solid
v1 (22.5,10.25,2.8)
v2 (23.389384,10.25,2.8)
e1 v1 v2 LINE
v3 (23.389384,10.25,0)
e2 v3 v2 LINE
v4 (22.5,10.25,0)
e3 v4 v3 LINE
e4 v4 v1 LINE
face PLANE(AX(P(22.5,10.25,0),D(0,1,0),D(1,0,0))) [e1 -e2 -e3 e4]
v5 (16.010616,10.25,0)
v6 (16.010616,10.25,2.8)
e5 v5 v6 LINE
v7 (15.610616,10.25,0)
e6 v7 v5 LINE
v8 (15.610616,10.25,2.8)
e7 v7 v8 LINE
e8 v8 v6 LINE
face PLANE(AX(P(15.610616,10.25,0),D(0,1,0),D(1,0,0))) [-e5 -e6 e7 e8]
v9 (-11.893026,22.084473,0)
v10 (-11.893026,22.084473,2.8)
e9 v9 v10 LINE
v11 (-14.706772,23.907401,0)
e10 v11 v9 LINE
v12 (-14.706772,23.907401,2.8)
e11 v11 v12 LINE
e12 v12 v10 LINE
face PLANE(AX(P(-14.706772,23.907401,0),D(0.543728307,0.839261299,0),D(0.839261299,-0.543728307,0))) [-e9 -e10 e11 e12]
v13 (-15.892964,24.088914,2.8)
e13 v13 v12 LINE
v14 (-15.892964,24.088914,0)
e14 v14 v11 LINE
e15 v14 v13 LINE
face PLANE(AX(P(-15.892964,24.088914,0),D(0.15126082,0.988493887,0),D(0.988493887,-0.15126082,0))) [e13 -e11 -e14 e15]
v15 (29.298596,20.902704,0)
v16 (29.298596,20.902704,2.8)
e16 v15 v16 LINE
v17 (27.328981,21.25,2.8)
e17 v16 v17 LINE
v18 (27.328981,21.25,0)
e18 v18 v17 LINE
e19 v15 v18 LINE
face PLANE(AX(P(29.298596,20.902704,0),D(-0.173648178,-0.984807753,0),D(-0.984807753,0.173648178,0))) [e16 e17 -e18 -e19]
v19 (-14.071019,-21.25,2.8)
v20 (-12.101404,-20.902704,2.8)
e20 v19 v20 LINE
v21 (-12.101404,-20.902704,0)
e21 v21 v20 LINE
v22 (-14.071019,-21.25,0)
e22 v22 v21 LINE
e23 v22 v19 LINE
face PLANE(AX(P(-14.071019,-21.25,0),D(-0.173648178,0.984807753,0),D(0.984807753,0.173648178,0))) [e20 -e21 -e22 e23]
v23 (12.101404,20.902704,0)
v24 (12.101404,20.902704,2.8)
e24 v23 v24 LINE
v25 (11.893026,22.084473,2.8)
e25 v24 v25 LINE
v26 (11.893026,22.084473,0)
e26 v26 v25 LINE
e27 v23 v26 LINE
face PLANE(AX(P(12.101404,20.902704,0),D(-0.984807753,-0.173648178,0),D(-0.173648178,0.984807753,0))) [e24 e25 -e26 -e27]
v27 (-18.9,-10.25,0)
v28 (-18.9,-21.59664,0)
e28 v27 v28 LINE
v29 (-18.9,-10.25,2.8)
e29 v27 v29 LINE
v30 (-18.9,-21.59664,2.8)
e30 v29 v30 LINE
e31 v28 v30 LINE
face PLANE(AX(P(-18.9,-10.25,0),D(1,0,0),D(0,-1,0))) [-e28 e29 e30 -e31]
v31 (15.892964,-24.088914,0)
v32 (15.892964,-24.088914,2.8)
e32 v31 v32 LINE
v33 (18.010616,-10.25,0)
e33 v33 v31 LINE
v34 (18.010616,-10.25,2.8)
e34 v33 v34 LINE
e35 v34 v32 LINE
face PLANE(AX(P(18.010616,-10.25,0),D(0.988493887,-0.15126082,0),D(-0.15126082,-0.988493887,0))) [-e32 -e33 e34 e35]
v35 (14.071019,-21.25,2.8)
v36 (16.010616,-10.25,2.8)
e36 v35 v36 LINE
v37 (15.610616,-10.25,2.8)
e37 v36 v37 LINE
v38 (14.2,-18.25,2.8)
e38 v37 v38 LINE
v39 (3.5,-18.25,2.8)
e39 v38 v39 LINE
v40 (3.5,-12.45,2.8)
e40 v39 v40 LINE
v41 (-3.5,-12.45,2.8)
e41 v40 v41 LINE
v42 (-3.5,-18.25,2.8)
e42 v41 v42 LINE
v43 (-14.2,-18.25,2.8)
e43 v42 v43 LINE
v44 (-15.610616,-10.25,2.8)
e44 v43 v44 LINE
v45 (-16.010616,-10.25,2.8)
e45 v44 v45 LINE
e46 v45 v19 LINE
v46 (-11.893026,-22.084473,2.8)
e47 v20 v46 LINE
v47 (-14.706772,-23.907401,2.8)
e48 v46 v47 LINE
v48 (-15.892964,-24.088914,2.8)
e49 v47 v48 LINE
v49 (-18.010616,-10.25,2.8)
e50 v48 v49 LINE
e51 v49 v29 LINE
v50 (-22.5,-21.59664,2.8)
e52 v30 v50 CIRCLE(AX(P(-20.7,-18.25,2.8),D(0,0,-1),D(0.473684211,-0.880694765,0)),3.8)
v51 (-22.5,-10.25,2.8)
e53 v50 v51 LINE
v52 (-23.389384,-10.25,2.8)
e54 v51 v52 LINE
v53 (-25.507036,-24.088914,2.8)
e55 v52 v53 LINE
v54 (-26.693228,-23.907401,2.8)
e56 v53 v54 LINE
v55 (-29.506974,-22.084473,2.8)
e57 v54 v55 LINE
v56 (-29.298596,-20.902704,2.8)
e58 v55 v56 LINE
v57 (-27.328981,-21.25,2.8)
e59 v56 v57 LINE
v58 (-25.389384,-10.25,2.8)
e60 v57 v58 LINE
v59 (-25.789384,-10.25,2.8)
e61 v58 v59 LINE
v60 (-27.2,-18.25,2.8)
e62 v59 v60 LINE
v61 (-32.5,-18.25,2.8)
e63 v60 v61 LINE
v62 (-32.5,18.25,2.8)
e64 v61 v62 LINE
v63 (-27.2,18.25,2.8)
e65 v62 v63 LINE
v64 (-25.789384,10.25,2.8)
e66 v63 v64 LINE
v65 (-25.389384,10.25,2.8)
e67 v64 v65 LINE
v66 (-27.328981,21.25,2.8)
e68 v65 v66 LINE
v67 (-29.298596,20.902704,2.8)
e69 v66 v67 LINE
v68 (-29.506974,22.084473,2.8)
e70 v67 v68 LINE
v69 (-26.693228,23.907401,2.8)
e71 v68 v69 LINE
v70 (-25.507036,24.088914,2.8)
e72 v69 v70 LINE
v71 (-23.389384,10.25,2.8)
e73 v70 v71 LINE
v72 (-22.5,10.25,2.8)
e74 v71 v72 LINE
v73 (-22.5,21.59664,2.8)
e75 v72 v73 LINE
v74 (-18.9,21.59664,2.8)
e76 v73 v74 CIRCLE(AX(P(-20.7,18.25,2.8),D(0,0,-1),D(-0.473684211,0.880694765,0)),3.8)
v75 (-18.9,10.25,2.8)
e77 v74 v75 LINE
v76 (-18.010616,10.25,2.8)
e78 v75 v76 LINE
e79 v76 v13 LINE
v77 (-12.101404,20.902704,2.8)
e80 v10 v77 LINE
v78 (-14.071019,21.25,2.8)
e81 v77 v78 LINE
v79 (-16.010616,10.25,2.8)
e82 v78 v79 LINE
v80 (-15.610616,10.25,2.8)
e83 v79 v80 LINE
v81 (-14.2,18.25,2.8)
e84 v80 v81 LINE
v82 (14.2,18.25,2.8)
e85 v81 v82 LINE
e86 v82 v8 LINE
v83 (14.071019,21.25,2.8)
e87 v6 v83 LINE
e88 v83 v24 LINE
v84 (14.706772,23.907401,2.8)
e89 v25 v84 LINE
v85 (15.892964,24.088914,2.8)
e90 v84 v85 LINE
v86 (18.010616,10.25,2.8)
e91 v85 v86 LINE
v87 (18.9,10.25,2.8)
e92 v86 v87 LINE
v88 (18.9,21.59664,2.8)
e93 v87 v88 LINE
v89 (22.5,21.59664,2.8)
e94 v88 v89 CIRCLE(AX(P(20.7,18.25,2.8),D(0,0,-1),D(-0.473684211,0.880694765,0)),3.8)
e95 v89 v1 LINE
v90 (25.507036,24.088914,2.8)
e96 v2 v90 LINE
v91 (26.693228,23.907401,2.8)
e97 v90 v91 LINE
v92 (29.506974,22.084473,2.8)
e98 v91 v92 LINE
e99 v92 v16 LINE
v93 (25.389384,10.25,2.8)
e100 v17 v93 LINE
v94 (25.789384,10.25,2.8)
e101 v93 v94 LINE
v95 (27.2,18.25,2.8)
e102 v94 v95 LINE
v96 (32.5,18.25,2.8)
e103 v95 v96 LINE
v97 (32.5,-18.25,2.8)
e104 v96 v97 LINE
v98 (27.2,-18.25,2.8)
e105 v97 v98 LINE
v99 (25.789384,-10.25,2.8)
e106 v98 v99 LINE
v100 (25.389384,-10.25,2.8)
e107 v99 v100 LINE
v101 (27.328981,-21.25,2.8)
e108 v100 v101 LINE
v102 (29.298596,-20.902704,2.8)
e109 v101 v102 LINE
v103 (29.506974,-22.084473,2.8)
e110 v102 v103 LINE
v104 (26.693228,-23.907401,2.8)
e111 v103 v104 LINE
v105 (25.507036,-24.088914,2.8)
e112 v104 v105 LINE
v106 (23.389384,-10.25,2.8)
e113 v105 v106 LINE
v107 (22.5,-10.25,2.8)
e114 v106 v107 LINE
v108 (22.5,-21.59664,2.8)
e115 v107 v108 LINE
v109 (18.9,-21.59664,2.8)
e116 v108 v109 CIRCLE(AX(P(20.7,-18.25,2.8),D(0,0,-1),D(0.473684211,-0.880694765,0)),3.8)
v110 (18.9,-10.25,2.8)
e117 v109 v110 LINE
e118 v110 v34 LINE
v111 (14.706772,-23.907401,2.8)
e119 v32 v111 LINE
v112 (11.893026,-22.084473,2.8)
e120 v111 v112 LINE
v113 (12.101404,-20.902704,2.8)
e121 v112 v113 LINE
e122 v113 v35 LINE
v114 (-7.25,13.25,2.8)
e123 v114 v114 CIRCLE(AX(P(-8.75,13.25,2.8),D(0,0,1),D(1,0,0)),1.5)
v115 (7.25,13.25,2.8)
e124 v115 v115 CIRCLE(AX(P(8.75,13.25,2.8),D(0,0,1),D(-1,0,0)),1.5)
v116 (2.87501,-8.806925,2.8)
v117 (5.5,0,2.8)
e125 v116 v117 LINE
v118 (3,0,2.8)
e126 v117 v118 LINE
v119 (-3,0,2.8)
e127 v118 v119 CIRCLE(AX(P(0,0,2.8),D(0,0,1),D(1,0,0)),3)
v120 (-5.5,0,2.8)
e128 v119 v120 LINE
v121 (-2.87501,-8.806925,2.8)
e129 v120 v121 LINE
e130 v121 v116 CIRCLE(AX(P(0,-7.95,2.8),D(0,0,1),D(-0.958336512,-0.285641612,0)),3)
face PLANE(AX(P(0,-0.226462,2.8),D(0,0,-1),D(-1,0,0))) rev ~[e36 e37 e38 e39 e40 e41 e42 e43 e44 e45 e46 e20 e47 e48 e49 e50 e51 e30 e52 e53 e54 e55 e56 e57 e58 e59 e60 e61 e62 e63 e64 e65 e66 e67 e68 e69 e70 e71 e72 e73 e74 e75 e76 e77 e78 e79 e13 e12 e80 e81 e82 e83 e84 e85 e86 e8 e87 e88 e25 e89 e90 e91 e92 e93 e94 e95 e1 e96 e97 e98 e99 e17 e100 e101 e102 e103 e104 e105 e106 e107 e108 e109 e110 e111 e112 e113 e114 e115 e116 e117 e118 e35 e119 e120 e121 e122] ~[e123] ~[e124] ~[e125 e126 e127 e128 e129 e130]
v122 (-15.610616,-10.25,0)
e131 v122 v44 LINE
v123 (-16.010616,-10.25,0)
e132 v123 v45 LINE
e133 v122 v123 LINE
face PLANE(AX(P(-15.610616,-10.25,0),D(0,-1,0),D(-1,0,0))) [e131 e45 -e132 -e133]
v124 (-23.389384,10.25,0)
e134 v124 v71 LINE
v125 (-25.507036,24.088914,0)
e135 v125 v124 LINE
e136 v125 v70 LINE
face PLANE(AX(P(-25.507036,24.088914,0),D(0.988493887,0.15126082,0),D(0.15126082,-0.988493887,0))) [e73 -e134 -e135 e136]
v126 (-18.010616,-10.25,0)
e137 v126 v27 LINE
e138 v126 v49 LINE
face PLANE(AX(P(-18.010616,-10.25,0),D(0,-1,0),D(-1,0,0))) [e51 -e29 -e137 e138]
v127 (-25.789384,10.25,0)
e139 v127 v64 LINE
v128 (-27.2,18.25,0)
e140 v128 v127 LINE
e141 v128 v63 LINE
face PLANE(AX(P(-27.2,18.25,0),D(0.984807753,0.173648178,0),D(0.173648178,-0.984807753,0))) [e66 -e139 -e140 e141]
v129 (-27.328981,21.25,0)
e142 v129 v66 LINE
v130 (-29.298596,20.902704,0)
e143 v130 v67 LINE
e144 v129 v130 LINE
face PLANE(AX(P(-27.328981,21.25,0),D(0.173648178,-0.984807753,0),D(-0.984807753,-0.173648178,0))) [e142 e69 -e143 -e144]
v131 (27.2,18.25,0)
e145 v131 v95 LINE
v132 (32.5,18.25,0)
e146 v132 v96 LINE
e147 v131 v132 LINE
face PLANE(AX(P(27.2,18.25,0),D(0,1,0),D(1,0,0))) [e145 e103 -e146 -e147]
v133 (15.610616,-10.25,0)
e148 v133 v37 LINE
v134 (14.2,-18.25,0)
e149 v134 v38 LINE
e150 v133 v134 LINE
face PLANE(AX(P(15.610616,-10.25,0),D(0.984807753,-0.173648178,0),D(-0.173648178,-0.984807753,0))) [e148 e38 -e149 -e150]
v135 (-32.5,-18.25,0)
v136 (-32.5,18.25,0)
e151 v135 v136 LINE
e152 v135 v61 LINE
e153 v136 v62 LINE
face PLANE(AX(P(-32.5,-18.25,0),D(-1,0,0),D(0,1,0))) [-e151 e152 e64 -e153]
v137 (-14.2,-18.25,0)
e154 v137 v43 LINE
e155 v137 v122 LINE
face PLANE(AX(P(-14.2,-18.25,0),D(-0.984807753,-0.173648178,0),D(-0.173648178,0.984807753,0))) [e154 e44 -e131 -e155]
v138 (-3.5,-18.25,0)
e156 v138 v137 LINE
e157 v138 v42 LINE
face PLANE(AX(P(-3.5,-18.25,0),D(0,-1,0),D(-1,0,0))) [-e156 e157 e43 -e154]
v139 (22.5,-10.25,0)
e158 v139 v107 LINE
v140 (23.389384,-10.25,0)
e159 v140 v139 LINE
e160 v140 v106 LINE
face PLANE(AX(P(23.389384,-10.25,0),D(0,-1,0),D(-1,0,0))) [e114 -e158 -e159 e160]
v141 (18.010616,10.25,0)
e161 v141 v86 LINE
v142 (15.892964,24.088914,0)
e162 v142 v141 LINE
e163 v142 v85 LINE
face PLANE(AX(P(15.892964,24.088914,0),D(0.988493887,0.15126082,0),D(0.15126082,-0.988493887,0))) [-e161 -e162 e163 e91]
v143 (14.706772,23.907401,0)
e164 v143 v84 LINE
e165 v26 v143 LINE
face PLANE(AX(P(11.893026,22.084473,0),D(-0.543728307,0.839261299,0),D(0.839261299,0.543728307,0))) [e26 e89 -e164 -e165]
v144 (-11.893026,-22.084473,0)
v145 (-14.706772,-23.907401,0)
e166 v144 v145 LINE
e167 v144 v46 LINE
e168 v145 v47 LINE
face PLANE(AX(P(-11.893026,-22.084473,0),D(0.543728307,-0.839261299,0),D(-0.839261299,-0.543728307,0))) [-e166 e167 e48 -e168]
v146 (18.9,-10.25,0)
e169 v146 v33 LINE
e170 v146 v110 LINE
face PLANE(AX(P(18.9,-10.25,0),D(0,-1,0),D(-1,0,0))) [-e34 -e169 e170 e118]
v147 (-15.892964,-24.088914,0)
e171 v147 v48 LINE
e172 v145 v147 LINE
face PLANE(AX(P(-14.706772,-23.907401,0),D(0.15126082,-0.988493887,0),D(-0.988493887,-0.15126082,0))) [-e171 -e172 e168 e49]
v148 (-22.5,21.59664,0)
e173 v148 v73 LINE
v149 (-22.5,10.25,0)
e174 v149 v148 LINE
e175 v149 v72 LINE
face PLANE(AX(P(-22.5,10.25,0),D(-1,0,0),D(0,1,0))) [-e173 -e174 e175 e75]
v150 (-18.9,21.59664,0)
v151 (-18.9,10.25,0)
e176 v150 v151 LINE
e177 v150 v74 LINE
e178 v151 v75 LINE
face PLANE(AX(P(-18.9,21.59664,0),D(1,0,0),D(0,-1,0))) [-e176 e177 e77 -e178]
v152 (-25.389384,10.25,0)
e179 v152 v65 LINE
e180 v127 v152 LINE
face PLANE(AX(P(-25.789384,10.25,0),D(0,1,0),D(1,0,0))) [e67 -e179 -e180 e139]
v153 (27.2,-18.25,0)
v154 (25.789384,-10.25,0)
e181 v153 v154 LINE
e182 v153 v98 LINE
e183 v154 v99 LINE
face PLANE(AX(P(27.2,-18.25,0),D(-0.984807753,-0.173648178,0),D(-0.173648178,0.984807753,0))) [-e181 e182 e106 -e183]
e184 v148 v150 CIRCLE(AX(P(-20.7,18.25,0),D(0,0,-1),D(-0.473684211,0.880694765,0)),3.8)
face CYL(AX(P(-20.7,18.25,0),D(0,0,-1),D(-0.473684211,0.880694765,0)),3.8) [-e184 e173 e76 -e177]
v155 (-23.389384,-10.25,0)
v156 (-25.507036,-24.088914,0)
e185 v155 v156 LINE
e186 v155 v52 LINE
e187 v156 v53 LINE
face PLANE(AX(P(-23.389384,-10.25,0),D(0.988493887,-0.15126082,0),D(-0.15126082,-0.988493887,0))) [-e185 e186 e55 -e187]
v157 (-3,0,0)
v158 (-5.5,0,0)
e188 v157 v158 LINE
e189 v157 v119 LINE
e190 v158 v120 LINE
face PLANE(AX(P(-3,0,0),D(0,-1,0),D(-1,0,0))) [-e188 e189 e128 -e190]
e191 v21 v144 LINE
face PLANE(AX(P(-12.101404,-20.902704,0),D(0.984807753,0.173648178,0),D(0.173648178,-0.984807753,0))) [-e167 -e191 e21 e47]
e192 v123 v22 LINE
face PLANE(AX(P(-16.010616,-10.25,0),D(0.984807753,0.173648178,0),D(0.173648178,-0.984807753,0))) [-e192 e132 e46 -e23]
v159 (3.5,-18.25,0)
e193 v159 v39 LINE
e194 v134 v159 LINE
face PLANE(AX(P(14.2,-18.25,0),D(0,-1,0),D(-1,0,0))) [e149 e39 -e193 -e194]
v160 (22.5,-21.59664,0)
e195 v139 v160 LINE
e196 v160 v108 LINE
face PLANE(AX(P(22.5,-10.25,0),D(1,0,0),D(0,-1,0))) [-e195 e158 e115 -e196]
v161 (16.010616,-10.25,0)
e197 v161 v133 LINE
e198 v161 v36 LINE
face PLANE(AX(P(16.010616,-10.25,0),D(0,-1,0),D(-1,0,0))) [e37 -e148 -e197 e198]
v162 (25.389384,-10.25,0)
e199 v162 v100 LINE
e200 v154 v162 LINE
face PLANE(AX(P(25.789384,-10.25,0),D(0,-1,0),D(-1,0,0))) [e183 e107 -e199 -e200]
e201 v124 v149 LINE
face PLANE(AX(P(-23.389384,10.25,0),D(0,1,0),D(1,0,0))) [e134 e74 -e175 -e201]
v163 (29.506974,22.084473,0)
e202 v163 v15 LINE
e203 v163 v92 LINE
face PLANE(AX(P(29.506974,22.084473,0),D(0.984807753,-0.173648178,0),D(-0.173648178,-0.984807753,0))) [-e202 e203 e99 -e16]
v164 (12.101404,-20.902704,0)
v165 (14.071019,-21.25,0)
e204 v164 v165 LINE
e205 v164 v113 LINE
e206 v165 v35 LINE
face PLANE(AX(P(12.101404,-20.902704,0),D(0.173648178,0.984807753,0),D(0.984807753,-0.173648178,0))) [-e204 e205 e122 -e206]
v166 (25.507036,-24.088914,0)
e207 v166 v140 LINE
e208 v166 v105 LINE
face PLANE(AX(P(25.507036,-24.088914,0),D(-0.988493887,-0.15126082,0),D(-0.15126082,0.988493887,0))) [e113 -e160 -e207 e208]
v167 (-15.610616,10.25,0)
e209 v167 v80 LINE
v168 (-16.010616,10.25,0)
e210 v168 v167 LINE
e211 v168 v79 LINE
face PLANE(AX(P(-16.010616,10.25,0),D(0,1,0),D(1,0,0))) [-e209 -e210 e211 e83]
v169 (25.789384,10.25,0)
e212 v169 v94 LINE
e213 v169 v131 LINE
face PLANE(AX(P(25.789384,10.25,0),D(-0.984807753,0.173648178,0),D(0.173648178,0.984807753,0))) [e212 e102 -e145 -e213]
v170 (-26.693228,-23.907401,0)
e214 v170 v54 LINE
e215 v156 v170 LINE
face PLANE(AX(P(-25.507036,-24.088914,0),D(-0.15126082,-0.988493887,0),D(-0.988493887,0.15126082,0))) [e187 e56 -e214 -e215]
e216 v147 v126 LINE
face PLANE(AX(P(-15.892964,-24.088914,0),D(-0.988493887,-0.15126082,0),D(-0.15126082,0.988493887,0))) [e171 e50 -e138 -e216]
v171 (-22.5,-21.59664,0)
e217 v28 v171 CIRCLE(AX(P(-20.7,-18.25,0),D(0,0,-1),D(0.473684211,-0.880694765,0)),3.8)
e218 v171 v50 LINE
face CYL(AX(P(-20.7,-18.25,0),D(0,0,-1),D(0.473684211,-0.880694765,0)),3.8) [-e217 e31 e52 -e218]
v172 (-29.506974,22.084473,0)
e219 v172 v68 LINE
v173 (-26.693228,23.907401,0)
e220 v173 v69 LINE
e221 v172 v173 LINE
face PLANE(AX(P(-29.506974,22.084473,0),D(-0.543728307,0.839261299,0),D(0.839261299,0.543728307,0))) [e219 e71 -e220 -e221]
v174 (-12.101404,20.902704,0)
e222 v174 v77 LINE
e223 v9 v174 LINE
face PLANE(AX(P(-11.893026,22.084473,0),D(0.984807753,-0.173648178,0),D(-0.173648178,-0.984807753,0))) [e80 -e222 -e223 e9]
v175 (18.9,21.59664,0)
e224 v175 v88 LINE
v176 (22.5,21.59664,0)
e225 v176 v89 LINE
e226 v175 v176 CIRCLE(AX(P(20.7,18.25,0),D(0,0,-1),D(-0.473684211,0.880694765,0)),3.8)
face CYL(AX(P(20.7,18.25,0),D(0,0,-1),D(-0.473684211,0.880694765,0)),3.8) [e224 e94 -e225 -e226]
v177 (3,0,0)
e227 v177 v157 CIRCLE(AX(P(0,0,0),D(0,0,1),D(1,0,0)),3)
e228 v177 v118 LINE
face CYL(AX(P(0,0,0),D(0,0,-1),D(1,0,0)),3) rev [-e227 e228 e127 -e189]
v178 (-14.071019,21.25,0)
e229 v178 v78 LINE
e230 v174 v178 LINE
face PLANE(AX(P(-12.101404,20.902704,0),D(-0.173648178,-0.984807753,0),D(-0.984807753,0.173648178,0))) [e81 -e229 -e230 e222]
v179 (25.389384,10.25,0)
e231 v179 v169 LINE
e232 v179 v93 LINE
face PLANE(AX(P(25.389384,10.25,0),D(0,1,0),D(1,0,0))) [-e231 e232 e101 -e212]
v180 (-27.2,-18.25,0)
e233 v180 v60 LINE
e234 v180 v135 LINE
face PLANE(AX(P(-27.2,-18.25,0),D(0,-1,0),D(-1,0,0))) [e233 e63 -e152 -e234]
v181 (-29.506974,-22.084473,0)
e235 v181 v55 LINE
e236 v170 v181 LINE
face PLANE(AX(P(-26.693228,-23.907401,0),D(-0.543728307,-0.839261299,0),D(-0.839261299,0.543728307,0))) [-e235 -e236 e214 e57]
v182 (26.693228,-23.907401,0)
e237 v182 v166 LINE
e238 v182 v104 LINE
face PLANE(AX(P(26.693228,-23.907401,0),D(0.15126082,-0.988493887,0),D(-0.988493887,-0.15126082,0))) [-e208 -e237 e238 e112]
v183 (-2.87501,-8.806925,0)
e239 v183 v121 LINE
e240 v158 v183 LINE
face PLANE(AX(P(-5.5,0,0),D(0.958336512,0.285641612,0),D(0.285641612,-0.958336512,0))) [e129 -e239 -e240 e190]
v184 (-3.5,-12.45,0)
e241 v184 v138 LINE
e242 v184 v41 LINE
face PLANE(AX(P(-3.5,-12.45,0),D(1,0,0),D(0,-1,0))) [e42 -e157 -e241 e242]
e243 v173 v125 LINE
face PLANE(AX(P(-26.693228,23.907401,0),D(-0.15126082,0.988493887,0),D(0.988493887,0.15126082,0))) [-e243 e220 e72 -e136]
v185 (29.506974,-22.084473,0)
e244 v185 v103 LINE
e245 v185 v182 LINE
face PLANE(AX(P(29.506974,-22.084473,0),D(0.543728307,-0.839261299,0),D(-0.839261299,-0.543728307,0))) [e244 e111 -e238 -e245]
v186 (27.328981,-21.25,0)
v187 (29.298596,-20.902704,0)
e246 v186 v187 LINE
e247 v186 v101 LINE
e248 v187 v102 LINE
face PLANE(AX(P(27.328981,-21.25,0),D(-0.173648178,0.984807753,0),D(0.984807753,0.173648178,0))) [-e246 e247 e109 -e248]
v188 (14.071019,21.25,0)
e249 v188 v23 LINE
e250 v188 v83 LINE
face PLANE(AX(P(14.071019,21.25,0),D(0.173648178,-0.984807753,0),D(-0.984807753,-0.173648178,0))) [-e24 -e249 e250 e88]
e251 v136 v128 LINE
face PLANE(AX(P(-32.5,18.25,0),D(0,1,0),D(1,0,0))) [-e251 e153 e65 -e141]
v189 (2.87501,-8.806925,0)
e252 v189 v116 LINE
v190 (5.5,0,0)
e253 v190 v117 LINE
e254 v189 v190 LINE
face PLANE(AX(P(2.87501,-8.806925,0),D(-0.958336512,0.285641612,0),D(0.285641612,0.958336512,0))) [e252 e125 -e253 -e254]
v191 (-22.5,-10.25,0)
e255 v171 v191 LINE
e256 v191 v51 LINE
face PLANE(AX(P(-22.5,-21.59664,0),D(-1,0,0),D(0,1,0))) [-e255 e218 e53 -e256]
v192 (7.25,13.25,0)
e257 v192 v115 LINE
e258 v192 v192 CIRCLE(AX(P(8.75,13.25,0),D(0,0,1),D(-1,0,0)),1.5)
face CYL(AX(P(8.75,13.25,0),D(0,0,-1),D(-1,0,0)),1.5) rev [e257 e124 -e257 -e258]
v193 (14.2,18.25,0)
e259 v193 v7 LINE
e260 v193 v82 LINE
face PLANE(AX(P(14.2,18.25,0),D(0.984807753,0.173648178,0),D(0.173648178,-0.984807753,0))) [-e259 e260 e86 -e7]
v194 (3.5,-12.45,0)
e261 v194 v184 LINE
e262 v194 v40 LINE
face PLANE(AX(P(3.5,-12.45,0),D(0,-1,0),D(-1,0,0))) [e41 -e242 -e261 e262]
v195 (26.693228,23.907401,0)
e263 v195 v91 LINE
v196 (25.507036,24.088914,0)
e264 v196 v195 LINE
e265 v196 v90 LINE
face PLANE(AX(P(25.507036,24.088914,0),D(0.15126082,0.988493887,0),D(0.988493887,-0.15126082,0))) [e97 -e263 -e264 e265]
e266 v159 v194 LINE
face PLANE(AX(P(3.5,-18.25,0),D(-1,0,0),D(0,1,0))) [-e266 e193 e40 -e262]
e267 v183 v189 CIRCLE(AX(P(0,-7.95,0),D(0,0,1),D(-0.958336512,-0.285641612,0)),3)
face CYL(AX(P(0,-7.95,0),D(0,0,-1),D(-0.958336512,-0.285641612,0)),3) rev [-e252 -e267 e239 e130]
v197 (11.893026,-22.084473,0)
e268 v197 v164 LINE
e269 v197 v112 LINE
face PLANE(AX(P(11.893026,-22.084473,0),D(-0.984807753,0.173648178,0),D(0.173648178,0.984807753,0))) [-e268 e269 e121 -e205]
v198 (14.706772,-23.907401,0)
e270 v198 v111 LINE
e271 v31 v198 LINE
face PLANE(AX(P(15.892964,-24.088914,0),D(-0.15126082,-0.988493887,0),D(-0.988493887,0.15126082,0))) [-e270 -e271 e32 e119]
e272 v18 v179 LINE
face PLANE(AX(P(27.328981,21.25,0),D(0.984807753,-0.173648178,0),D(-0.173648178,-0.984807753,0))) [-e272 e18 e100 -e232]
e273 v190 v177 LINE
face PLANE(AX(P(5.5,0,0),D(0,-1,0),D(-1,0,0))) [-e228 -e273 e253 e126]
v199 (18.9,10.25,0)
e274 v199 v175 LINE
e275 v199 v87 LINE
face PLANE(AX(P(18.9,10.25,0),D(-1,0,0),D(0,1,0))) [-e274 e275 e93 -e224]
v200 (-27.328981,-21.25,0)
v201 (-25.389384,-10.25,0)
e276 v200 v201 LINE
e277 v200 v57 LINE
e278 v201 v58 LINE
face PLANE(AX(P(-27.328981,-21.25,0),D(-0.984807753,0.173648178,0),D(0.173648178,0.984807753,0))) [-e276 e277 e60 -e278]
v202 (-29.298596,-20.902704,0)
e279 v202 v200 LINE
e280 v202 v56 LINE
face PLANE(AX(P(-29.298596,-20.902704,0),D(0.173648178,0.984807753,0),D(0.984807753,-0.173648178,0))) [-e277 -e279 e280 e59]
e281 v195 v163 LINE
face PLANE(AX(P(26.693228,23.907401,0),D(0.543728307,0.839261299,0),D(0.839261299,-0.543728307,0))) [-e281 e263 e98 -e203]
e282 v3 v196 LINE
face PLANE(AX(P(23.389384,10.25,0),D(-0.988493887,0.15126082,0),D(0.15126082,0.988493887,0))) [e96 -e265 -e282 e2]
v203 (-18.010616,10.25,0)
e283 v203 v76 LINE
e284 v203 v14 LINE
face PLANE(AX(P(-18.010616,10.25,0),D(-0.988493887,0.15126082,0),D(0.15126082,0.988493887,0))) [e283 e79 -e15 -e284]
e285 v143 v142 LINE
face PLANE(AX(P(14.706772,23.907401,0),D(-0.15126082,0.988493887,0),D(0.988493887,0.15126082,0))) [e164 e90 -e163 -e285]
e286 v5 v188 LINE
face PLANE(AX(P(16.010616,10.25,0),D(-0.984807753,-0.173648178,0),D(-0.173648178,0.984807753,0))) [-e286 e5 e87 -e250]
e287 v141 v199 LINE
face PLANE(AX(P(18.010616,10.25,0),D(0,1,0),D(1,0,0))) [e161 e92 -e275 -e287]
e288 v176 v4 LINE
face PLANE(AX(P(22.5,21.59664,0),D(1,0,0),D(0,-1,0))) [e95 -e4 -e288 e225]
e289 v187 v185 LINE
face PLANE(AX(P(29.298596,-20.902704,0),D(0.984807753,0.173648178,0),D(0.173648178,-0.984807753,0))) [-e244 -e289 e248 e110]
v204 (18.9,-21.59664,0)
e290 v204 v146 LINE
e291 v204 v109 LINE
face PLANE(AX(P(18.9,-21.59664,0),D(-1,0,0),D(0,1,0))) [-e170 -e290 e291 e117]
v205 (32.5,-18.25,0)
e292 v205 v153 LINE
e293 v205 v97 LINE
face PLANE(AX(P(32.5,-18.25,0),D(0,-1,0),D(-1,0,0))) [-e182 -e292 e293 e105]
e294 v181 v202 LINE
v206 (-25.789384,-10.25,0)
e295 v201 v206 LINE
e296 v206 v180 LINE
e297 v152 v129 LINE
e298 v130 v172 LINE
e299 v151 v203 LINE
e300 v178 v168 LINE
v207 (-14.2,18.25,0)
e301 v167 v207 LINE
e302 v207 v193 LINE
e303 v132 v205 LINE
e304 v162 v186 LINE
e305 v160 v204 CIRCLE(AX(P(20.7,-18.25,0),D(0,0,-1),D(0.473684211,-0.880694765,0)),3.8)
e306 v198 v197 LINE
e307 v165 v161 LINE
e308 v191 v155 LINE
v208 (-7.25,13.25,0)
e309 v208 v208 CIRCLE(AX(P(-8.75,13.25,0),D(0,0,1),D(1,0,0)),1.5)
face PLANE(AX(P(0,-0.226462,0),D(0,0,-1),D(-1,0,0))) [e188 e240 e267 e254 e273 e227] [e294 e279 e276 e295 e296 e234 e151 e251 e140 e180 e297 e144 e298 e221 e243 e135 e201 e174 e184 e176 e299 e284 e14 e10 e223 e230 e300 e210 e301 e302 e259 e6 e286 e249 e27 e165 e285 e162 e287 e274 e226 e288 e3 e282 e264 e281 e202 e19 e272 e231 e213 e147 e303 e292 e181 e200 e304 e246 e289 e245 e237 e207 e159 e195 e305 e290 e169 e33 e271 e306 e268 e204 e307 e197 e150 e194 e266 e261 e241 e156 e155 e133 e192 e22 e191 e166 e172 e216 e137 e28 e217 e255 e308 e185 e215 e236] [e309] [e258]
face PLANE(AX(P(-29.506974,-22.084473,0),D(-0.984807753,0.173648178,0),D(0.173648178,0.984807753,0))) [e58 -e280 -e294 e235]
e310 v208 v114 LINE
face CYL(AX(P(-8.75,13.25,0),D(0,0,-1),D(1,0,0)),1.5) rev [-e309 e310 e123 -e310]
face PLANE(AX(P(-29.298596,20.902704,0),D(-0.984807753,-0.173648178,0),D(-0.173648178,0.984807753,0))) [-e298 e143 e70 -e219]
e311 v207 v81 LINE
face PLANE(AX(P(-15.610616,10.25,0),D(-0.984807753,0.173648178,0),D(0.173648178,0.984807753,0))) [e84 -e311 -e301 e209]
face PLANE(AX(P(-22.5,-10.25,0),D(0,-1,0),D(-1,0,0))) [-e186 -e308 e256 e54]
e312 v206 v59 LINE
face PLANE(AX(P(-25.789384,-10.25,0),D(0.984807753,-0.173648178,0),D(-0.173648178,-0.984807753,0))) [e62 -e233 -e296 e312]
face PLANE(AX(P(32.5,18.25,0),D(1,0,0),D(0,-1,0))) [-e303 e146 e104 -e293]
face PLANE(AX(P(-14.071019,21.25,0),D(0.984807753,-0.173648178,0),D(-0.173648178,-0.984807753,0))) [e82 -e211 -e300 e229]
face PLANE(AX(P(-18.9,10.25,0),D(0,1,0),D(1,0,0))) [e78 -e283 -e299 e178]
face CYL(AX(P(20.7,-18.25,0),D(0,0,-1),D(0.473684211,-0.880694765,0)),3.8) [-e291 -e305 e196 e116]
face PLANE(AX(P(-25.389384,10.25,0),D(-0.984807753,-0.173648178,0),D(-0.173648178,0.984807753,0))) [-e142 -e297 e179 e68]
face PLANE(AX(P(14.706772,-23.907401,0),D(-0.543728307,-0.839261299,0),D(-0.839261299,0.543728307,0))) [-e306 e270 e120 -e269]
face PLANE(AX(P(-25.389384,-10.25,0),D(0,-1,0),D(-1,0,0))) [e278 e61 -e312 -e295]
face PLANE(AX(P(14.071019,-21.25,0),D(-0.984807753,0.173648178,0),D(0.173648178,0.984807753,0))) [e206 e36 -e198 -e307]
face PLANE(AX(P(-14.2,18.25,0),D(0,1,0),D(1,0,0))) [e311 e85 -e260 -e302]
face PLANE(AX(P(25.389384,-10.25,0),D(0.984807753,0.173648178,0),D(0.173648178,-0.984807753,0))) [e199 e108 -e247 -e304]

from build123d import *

# Parameters (mm, degrees)
MODEL_R                 = 1.5
P_IDAT_VYSUNUT_M1_DEPTH = 2.8


with BuildPart() as part:
    # Model → Přidat vysunutím1 (new body)
    with BuildSketch(Plane.XY):
        with BuildLine():
            Line((-14.2, 18.25), (14.2, 18.25))
            Line((14.2, 18.25), (15.610615846, 10.25))
            Line((15.610615846, 10.25), (16.010615846, 10.25))
            Line((16.010615846, 10.25), (14.071019058, 21.25))
            Line((14.071019058, 21.25), (12.101403552, 20.902703645))
            Line((12.101403552, 20.902703645), (11.893025739, 22.084472948))
            Line((11.893025739, 22.084472948), (14.706771698, 23.907401431))
            Line((14.706771698, 23.907401431), (15.892964362, 24.088914415))
            Line((15.892964362, 24.088914415), (18.010615846, 10.25))
            Line((18.010615846, 10.25), (18.9, 10.25))
            Line((18.9, 10.25), (18.9, 21.596640106))
            ThreePointArc((18.9, 21.596640106), (20.7, 22.05), (22.5, 21.596640106))
            Line((22.5, 21.596640106), (22.5, 10.25))
            Line((22.5, 10.25), (23.389384154, 10.25))
            Line((23.389384154, 10.25), (25.507035638, 24.088914415))
            Line((25.507035638, 24.088914415), (26.693228302, 23.907401431))
            Line((26.693228302, 23.907401431), (29.506974261, 22.084472948))
            Line((29.506974261, 22.084472948), (29.298596448, 20.902703645))
            Line((29.298596448, 20.902703645), (27.328980942, 21.25))
            Line((27.328980942, 21.25), (25.389384154, 10.25))
            Line((25.389384154, 10.25), (25.789384154, 10.25))
            Line((25.789384154, 10.25), (27.2, 18.25))
            Line((27.2, 18.25), (32.5, 18.25))
            Line((32.5, 18.25), (32.5, -18.25))
            Line((32.5, -18.25), (27.2, -18.25))
            Line((27.2, -18.25), (25.789384154, -10.25))
            Line((25.789384154, -10.25), (25.389384154, -10.25))
            Line((25.389384154, -10.25), (27.328980942, -21.25))
            Line((27.328980942, -21.25), (29.298596448, -20.902703645))
            Line((29.298596448, -20.902703645), (29.506974261, -22.084472948))
            Line((29.506974261, -22.084472948), (26.693228302, -23.907401431))
            Line((26.693228302, -23.907401431), (25.507035638, -24.088914415))
            Line((25.507035638, -24.088914415), (23.389384154, -10.25))
            Line((23.389384154, -10.25), (22.5, -10.25))
            Line((22.5, -10.25), (22.5, -21.596640106))
            ThreePointArc((22.5, -21.596640106), (20.7, -22.05), (18.9, -21.596640106))
            Line((18.9, -21.596640106), (18.9, -10.25))
            Line((18.9, -10.25), (18.010615846, -10.25))
            Line((18.010615846, -10.25), (15.892964362, -24.088914415))
            Line((15.892964362, -24.088914415), (14.706771698, -23.907401431))
            Line((14.706771698, -23.907401431), (11.893025739, -22.084472948))
            Line((11.893025739, -22.084472948), (12.101403552, -20.902703645))
            Line((12.101403552, -20.902703645), (14.071019058, -21.25))
            Line((14.071019058, -21.25), (16.010615846, -10.25))
            Line((16.010615846, -10.25), (15.610615846, -10.25))
            Line((15.610615846, -10.25), (14.2, -18.25))
            Line((14.2, -18.25), (3.5, -18.25))
            Line((3.5, -18.25), (3.5, -12.45))
            Line((3.5, -12.45), (-3.5, -12.45))
            Line((-3.5, -12.45), (-3.5, -18.25))
            Line((-3.5, -18.25), (-14.2, -18.25))
            Line((-14.2, -18.25), (-15.610615846, -10.25))
            Line((-15.610615846, -10.25), (-16.010615846, -10.25))
            Line((-16.010615846, -10.25), (-14.071019058, -21.25))
            Line((-14.071019058, -21.25), (-12.101403552, -20.902703645))
            Line((-12.101403552, -20.902703645), (-11.893025739, -22.084472948))
            Line((-11.893025739, -22.084472948), (-14.706771698, -23.907401431))
            Line((-14.706771698, -23.907401431), (-15.892964362, -24.088914415))
            Line((-15.892964362, -24.088914415), (-18.010615846, -10.25))
            Line((-18.010615846, -10.25), (-18.9, -10.25))
            Line((-18.9, -10.25), (-18.9, -21.596640106))
            ThreePointArc((-18.9, -21.596640106), (-20.7, -22.05), (-22.5, -21.596640106))
            Line((-22.5, -21.596640106), (-22.5, -10.25))
            Line((-22.5, -10.25), (-23.389384154, -10.25))
            Line((-23.389384154, -10.25), (-25.507035638, -24.088914415))
            Line((-25.507035638, -24.088914415), (-26.693228302, -23.907401431))
            Line((-26.693228302, -23.907401431), (-29.506974261, -22.084472948))
            Line((-29.506974261, -22.084472948), (-29.298596448, -20.902703645))
            Line((-29.298596448, -20.902703645), (-27.328980942, -21.25))
            Line((-27.328980942, -21.25), (-25.389384154, -10.25))
            Line((-25.389384154, -10.25), (-25.789384154, -10.25))
            Line((-25.789384154, -10.25), (-27.2, -18.25))
            Line((-27.2, -18.25), (-32.5, -18.25))
            Line((-32.5, -18.25), (-32.5, 18.25))
            Line((-32.5, 18.25), (-27.2, 18.25))
            Line((-27.2, 18.25), (-25.789384154, 10.25))
            Line((-25.789384154, 10.25), (-25.389384154, 10.25))
            Line((-25.389384154, 10.25), (-27.328980942, 21.25))
            Line((-27.328980942, 21.25), (-29.298596448, 20.902703645))
            Line((-29.298596448, 20.902703645), (-29.506974261, 22.084472948))
            Line((-29.506974261, 22.084472948), (-26.693228302, 23.907401431))
            Line((-26.693228302, 23.907401431), (-25.507035638, 24.088914415))
            Line((-25.507035638, 24.088914415), (-23.389384154, 10.25))
            Line((-23.389384154, 10.25), (-22.5, 10.25))
            Line((-22.5, 10.25), (-22.5, 21.596640106))
            ThreePointArc((-22.5, 21.596640106), (-20.7, 22.05), (-18.9, 21.596640106))
            Line((-18.9, 21.596640106), (-18.9, 10.25))
            Line((-18.9, 10.25), (-18.010615846, 10.25))
            Line((-18.010615846, 10.25), (-15.892964362, 24.088914415))
            Line((-15.892964362, 24.088914415), (-14.706771698, 23.907401431))
            Line((-14.706771698, 23.907401431), (-11.893025739, 22.084472948))
            Line((-11.893025739, 22.084472948), (-12.101403552, 20.902703645))
            Line((-12.101403552, 20.902703645), (-14.071019058, 21.25))
            Line((-14.071019058, 21.25), (-16.010615846, 10.25))
            Line((-16.010615846, 10.25), (-15.610615846, 10.25))
            Line((-15.610615846, 10.25), (-14.2, 18.25))
        make_face()
        with Locations((-8.75, 13.25)):
            Circle(MODEL_R, mode=Mode.SUBTRACT)
        with Locations(Location((8.75, 13.25, 0), (0, 0, 180))):
            Circle(MODEL_R, mode=Mode.SUBTRACT)
        with BuildLine():
            Line((2.875009535, -8.806924836), (5.5, 0))
            Line((5.5, 0), (3, 0))
            ThreePointArc((3, 0), (0, 3), (-3, 0))
            Line((-3, 0), (-5.5, 0))
            Line((-5.5, 0), (-2.875009535, -8.806924836))
            ThreePointArc((-2.875009535, -8.806924836), (0, -10.95), (2.875009535, -8.806924836))
        make_face(mode=Mode.SUBTRACT)
    extrude(amount=P_IDAT_VYSUNUT_M1_DEPTH)


solid = part.part
